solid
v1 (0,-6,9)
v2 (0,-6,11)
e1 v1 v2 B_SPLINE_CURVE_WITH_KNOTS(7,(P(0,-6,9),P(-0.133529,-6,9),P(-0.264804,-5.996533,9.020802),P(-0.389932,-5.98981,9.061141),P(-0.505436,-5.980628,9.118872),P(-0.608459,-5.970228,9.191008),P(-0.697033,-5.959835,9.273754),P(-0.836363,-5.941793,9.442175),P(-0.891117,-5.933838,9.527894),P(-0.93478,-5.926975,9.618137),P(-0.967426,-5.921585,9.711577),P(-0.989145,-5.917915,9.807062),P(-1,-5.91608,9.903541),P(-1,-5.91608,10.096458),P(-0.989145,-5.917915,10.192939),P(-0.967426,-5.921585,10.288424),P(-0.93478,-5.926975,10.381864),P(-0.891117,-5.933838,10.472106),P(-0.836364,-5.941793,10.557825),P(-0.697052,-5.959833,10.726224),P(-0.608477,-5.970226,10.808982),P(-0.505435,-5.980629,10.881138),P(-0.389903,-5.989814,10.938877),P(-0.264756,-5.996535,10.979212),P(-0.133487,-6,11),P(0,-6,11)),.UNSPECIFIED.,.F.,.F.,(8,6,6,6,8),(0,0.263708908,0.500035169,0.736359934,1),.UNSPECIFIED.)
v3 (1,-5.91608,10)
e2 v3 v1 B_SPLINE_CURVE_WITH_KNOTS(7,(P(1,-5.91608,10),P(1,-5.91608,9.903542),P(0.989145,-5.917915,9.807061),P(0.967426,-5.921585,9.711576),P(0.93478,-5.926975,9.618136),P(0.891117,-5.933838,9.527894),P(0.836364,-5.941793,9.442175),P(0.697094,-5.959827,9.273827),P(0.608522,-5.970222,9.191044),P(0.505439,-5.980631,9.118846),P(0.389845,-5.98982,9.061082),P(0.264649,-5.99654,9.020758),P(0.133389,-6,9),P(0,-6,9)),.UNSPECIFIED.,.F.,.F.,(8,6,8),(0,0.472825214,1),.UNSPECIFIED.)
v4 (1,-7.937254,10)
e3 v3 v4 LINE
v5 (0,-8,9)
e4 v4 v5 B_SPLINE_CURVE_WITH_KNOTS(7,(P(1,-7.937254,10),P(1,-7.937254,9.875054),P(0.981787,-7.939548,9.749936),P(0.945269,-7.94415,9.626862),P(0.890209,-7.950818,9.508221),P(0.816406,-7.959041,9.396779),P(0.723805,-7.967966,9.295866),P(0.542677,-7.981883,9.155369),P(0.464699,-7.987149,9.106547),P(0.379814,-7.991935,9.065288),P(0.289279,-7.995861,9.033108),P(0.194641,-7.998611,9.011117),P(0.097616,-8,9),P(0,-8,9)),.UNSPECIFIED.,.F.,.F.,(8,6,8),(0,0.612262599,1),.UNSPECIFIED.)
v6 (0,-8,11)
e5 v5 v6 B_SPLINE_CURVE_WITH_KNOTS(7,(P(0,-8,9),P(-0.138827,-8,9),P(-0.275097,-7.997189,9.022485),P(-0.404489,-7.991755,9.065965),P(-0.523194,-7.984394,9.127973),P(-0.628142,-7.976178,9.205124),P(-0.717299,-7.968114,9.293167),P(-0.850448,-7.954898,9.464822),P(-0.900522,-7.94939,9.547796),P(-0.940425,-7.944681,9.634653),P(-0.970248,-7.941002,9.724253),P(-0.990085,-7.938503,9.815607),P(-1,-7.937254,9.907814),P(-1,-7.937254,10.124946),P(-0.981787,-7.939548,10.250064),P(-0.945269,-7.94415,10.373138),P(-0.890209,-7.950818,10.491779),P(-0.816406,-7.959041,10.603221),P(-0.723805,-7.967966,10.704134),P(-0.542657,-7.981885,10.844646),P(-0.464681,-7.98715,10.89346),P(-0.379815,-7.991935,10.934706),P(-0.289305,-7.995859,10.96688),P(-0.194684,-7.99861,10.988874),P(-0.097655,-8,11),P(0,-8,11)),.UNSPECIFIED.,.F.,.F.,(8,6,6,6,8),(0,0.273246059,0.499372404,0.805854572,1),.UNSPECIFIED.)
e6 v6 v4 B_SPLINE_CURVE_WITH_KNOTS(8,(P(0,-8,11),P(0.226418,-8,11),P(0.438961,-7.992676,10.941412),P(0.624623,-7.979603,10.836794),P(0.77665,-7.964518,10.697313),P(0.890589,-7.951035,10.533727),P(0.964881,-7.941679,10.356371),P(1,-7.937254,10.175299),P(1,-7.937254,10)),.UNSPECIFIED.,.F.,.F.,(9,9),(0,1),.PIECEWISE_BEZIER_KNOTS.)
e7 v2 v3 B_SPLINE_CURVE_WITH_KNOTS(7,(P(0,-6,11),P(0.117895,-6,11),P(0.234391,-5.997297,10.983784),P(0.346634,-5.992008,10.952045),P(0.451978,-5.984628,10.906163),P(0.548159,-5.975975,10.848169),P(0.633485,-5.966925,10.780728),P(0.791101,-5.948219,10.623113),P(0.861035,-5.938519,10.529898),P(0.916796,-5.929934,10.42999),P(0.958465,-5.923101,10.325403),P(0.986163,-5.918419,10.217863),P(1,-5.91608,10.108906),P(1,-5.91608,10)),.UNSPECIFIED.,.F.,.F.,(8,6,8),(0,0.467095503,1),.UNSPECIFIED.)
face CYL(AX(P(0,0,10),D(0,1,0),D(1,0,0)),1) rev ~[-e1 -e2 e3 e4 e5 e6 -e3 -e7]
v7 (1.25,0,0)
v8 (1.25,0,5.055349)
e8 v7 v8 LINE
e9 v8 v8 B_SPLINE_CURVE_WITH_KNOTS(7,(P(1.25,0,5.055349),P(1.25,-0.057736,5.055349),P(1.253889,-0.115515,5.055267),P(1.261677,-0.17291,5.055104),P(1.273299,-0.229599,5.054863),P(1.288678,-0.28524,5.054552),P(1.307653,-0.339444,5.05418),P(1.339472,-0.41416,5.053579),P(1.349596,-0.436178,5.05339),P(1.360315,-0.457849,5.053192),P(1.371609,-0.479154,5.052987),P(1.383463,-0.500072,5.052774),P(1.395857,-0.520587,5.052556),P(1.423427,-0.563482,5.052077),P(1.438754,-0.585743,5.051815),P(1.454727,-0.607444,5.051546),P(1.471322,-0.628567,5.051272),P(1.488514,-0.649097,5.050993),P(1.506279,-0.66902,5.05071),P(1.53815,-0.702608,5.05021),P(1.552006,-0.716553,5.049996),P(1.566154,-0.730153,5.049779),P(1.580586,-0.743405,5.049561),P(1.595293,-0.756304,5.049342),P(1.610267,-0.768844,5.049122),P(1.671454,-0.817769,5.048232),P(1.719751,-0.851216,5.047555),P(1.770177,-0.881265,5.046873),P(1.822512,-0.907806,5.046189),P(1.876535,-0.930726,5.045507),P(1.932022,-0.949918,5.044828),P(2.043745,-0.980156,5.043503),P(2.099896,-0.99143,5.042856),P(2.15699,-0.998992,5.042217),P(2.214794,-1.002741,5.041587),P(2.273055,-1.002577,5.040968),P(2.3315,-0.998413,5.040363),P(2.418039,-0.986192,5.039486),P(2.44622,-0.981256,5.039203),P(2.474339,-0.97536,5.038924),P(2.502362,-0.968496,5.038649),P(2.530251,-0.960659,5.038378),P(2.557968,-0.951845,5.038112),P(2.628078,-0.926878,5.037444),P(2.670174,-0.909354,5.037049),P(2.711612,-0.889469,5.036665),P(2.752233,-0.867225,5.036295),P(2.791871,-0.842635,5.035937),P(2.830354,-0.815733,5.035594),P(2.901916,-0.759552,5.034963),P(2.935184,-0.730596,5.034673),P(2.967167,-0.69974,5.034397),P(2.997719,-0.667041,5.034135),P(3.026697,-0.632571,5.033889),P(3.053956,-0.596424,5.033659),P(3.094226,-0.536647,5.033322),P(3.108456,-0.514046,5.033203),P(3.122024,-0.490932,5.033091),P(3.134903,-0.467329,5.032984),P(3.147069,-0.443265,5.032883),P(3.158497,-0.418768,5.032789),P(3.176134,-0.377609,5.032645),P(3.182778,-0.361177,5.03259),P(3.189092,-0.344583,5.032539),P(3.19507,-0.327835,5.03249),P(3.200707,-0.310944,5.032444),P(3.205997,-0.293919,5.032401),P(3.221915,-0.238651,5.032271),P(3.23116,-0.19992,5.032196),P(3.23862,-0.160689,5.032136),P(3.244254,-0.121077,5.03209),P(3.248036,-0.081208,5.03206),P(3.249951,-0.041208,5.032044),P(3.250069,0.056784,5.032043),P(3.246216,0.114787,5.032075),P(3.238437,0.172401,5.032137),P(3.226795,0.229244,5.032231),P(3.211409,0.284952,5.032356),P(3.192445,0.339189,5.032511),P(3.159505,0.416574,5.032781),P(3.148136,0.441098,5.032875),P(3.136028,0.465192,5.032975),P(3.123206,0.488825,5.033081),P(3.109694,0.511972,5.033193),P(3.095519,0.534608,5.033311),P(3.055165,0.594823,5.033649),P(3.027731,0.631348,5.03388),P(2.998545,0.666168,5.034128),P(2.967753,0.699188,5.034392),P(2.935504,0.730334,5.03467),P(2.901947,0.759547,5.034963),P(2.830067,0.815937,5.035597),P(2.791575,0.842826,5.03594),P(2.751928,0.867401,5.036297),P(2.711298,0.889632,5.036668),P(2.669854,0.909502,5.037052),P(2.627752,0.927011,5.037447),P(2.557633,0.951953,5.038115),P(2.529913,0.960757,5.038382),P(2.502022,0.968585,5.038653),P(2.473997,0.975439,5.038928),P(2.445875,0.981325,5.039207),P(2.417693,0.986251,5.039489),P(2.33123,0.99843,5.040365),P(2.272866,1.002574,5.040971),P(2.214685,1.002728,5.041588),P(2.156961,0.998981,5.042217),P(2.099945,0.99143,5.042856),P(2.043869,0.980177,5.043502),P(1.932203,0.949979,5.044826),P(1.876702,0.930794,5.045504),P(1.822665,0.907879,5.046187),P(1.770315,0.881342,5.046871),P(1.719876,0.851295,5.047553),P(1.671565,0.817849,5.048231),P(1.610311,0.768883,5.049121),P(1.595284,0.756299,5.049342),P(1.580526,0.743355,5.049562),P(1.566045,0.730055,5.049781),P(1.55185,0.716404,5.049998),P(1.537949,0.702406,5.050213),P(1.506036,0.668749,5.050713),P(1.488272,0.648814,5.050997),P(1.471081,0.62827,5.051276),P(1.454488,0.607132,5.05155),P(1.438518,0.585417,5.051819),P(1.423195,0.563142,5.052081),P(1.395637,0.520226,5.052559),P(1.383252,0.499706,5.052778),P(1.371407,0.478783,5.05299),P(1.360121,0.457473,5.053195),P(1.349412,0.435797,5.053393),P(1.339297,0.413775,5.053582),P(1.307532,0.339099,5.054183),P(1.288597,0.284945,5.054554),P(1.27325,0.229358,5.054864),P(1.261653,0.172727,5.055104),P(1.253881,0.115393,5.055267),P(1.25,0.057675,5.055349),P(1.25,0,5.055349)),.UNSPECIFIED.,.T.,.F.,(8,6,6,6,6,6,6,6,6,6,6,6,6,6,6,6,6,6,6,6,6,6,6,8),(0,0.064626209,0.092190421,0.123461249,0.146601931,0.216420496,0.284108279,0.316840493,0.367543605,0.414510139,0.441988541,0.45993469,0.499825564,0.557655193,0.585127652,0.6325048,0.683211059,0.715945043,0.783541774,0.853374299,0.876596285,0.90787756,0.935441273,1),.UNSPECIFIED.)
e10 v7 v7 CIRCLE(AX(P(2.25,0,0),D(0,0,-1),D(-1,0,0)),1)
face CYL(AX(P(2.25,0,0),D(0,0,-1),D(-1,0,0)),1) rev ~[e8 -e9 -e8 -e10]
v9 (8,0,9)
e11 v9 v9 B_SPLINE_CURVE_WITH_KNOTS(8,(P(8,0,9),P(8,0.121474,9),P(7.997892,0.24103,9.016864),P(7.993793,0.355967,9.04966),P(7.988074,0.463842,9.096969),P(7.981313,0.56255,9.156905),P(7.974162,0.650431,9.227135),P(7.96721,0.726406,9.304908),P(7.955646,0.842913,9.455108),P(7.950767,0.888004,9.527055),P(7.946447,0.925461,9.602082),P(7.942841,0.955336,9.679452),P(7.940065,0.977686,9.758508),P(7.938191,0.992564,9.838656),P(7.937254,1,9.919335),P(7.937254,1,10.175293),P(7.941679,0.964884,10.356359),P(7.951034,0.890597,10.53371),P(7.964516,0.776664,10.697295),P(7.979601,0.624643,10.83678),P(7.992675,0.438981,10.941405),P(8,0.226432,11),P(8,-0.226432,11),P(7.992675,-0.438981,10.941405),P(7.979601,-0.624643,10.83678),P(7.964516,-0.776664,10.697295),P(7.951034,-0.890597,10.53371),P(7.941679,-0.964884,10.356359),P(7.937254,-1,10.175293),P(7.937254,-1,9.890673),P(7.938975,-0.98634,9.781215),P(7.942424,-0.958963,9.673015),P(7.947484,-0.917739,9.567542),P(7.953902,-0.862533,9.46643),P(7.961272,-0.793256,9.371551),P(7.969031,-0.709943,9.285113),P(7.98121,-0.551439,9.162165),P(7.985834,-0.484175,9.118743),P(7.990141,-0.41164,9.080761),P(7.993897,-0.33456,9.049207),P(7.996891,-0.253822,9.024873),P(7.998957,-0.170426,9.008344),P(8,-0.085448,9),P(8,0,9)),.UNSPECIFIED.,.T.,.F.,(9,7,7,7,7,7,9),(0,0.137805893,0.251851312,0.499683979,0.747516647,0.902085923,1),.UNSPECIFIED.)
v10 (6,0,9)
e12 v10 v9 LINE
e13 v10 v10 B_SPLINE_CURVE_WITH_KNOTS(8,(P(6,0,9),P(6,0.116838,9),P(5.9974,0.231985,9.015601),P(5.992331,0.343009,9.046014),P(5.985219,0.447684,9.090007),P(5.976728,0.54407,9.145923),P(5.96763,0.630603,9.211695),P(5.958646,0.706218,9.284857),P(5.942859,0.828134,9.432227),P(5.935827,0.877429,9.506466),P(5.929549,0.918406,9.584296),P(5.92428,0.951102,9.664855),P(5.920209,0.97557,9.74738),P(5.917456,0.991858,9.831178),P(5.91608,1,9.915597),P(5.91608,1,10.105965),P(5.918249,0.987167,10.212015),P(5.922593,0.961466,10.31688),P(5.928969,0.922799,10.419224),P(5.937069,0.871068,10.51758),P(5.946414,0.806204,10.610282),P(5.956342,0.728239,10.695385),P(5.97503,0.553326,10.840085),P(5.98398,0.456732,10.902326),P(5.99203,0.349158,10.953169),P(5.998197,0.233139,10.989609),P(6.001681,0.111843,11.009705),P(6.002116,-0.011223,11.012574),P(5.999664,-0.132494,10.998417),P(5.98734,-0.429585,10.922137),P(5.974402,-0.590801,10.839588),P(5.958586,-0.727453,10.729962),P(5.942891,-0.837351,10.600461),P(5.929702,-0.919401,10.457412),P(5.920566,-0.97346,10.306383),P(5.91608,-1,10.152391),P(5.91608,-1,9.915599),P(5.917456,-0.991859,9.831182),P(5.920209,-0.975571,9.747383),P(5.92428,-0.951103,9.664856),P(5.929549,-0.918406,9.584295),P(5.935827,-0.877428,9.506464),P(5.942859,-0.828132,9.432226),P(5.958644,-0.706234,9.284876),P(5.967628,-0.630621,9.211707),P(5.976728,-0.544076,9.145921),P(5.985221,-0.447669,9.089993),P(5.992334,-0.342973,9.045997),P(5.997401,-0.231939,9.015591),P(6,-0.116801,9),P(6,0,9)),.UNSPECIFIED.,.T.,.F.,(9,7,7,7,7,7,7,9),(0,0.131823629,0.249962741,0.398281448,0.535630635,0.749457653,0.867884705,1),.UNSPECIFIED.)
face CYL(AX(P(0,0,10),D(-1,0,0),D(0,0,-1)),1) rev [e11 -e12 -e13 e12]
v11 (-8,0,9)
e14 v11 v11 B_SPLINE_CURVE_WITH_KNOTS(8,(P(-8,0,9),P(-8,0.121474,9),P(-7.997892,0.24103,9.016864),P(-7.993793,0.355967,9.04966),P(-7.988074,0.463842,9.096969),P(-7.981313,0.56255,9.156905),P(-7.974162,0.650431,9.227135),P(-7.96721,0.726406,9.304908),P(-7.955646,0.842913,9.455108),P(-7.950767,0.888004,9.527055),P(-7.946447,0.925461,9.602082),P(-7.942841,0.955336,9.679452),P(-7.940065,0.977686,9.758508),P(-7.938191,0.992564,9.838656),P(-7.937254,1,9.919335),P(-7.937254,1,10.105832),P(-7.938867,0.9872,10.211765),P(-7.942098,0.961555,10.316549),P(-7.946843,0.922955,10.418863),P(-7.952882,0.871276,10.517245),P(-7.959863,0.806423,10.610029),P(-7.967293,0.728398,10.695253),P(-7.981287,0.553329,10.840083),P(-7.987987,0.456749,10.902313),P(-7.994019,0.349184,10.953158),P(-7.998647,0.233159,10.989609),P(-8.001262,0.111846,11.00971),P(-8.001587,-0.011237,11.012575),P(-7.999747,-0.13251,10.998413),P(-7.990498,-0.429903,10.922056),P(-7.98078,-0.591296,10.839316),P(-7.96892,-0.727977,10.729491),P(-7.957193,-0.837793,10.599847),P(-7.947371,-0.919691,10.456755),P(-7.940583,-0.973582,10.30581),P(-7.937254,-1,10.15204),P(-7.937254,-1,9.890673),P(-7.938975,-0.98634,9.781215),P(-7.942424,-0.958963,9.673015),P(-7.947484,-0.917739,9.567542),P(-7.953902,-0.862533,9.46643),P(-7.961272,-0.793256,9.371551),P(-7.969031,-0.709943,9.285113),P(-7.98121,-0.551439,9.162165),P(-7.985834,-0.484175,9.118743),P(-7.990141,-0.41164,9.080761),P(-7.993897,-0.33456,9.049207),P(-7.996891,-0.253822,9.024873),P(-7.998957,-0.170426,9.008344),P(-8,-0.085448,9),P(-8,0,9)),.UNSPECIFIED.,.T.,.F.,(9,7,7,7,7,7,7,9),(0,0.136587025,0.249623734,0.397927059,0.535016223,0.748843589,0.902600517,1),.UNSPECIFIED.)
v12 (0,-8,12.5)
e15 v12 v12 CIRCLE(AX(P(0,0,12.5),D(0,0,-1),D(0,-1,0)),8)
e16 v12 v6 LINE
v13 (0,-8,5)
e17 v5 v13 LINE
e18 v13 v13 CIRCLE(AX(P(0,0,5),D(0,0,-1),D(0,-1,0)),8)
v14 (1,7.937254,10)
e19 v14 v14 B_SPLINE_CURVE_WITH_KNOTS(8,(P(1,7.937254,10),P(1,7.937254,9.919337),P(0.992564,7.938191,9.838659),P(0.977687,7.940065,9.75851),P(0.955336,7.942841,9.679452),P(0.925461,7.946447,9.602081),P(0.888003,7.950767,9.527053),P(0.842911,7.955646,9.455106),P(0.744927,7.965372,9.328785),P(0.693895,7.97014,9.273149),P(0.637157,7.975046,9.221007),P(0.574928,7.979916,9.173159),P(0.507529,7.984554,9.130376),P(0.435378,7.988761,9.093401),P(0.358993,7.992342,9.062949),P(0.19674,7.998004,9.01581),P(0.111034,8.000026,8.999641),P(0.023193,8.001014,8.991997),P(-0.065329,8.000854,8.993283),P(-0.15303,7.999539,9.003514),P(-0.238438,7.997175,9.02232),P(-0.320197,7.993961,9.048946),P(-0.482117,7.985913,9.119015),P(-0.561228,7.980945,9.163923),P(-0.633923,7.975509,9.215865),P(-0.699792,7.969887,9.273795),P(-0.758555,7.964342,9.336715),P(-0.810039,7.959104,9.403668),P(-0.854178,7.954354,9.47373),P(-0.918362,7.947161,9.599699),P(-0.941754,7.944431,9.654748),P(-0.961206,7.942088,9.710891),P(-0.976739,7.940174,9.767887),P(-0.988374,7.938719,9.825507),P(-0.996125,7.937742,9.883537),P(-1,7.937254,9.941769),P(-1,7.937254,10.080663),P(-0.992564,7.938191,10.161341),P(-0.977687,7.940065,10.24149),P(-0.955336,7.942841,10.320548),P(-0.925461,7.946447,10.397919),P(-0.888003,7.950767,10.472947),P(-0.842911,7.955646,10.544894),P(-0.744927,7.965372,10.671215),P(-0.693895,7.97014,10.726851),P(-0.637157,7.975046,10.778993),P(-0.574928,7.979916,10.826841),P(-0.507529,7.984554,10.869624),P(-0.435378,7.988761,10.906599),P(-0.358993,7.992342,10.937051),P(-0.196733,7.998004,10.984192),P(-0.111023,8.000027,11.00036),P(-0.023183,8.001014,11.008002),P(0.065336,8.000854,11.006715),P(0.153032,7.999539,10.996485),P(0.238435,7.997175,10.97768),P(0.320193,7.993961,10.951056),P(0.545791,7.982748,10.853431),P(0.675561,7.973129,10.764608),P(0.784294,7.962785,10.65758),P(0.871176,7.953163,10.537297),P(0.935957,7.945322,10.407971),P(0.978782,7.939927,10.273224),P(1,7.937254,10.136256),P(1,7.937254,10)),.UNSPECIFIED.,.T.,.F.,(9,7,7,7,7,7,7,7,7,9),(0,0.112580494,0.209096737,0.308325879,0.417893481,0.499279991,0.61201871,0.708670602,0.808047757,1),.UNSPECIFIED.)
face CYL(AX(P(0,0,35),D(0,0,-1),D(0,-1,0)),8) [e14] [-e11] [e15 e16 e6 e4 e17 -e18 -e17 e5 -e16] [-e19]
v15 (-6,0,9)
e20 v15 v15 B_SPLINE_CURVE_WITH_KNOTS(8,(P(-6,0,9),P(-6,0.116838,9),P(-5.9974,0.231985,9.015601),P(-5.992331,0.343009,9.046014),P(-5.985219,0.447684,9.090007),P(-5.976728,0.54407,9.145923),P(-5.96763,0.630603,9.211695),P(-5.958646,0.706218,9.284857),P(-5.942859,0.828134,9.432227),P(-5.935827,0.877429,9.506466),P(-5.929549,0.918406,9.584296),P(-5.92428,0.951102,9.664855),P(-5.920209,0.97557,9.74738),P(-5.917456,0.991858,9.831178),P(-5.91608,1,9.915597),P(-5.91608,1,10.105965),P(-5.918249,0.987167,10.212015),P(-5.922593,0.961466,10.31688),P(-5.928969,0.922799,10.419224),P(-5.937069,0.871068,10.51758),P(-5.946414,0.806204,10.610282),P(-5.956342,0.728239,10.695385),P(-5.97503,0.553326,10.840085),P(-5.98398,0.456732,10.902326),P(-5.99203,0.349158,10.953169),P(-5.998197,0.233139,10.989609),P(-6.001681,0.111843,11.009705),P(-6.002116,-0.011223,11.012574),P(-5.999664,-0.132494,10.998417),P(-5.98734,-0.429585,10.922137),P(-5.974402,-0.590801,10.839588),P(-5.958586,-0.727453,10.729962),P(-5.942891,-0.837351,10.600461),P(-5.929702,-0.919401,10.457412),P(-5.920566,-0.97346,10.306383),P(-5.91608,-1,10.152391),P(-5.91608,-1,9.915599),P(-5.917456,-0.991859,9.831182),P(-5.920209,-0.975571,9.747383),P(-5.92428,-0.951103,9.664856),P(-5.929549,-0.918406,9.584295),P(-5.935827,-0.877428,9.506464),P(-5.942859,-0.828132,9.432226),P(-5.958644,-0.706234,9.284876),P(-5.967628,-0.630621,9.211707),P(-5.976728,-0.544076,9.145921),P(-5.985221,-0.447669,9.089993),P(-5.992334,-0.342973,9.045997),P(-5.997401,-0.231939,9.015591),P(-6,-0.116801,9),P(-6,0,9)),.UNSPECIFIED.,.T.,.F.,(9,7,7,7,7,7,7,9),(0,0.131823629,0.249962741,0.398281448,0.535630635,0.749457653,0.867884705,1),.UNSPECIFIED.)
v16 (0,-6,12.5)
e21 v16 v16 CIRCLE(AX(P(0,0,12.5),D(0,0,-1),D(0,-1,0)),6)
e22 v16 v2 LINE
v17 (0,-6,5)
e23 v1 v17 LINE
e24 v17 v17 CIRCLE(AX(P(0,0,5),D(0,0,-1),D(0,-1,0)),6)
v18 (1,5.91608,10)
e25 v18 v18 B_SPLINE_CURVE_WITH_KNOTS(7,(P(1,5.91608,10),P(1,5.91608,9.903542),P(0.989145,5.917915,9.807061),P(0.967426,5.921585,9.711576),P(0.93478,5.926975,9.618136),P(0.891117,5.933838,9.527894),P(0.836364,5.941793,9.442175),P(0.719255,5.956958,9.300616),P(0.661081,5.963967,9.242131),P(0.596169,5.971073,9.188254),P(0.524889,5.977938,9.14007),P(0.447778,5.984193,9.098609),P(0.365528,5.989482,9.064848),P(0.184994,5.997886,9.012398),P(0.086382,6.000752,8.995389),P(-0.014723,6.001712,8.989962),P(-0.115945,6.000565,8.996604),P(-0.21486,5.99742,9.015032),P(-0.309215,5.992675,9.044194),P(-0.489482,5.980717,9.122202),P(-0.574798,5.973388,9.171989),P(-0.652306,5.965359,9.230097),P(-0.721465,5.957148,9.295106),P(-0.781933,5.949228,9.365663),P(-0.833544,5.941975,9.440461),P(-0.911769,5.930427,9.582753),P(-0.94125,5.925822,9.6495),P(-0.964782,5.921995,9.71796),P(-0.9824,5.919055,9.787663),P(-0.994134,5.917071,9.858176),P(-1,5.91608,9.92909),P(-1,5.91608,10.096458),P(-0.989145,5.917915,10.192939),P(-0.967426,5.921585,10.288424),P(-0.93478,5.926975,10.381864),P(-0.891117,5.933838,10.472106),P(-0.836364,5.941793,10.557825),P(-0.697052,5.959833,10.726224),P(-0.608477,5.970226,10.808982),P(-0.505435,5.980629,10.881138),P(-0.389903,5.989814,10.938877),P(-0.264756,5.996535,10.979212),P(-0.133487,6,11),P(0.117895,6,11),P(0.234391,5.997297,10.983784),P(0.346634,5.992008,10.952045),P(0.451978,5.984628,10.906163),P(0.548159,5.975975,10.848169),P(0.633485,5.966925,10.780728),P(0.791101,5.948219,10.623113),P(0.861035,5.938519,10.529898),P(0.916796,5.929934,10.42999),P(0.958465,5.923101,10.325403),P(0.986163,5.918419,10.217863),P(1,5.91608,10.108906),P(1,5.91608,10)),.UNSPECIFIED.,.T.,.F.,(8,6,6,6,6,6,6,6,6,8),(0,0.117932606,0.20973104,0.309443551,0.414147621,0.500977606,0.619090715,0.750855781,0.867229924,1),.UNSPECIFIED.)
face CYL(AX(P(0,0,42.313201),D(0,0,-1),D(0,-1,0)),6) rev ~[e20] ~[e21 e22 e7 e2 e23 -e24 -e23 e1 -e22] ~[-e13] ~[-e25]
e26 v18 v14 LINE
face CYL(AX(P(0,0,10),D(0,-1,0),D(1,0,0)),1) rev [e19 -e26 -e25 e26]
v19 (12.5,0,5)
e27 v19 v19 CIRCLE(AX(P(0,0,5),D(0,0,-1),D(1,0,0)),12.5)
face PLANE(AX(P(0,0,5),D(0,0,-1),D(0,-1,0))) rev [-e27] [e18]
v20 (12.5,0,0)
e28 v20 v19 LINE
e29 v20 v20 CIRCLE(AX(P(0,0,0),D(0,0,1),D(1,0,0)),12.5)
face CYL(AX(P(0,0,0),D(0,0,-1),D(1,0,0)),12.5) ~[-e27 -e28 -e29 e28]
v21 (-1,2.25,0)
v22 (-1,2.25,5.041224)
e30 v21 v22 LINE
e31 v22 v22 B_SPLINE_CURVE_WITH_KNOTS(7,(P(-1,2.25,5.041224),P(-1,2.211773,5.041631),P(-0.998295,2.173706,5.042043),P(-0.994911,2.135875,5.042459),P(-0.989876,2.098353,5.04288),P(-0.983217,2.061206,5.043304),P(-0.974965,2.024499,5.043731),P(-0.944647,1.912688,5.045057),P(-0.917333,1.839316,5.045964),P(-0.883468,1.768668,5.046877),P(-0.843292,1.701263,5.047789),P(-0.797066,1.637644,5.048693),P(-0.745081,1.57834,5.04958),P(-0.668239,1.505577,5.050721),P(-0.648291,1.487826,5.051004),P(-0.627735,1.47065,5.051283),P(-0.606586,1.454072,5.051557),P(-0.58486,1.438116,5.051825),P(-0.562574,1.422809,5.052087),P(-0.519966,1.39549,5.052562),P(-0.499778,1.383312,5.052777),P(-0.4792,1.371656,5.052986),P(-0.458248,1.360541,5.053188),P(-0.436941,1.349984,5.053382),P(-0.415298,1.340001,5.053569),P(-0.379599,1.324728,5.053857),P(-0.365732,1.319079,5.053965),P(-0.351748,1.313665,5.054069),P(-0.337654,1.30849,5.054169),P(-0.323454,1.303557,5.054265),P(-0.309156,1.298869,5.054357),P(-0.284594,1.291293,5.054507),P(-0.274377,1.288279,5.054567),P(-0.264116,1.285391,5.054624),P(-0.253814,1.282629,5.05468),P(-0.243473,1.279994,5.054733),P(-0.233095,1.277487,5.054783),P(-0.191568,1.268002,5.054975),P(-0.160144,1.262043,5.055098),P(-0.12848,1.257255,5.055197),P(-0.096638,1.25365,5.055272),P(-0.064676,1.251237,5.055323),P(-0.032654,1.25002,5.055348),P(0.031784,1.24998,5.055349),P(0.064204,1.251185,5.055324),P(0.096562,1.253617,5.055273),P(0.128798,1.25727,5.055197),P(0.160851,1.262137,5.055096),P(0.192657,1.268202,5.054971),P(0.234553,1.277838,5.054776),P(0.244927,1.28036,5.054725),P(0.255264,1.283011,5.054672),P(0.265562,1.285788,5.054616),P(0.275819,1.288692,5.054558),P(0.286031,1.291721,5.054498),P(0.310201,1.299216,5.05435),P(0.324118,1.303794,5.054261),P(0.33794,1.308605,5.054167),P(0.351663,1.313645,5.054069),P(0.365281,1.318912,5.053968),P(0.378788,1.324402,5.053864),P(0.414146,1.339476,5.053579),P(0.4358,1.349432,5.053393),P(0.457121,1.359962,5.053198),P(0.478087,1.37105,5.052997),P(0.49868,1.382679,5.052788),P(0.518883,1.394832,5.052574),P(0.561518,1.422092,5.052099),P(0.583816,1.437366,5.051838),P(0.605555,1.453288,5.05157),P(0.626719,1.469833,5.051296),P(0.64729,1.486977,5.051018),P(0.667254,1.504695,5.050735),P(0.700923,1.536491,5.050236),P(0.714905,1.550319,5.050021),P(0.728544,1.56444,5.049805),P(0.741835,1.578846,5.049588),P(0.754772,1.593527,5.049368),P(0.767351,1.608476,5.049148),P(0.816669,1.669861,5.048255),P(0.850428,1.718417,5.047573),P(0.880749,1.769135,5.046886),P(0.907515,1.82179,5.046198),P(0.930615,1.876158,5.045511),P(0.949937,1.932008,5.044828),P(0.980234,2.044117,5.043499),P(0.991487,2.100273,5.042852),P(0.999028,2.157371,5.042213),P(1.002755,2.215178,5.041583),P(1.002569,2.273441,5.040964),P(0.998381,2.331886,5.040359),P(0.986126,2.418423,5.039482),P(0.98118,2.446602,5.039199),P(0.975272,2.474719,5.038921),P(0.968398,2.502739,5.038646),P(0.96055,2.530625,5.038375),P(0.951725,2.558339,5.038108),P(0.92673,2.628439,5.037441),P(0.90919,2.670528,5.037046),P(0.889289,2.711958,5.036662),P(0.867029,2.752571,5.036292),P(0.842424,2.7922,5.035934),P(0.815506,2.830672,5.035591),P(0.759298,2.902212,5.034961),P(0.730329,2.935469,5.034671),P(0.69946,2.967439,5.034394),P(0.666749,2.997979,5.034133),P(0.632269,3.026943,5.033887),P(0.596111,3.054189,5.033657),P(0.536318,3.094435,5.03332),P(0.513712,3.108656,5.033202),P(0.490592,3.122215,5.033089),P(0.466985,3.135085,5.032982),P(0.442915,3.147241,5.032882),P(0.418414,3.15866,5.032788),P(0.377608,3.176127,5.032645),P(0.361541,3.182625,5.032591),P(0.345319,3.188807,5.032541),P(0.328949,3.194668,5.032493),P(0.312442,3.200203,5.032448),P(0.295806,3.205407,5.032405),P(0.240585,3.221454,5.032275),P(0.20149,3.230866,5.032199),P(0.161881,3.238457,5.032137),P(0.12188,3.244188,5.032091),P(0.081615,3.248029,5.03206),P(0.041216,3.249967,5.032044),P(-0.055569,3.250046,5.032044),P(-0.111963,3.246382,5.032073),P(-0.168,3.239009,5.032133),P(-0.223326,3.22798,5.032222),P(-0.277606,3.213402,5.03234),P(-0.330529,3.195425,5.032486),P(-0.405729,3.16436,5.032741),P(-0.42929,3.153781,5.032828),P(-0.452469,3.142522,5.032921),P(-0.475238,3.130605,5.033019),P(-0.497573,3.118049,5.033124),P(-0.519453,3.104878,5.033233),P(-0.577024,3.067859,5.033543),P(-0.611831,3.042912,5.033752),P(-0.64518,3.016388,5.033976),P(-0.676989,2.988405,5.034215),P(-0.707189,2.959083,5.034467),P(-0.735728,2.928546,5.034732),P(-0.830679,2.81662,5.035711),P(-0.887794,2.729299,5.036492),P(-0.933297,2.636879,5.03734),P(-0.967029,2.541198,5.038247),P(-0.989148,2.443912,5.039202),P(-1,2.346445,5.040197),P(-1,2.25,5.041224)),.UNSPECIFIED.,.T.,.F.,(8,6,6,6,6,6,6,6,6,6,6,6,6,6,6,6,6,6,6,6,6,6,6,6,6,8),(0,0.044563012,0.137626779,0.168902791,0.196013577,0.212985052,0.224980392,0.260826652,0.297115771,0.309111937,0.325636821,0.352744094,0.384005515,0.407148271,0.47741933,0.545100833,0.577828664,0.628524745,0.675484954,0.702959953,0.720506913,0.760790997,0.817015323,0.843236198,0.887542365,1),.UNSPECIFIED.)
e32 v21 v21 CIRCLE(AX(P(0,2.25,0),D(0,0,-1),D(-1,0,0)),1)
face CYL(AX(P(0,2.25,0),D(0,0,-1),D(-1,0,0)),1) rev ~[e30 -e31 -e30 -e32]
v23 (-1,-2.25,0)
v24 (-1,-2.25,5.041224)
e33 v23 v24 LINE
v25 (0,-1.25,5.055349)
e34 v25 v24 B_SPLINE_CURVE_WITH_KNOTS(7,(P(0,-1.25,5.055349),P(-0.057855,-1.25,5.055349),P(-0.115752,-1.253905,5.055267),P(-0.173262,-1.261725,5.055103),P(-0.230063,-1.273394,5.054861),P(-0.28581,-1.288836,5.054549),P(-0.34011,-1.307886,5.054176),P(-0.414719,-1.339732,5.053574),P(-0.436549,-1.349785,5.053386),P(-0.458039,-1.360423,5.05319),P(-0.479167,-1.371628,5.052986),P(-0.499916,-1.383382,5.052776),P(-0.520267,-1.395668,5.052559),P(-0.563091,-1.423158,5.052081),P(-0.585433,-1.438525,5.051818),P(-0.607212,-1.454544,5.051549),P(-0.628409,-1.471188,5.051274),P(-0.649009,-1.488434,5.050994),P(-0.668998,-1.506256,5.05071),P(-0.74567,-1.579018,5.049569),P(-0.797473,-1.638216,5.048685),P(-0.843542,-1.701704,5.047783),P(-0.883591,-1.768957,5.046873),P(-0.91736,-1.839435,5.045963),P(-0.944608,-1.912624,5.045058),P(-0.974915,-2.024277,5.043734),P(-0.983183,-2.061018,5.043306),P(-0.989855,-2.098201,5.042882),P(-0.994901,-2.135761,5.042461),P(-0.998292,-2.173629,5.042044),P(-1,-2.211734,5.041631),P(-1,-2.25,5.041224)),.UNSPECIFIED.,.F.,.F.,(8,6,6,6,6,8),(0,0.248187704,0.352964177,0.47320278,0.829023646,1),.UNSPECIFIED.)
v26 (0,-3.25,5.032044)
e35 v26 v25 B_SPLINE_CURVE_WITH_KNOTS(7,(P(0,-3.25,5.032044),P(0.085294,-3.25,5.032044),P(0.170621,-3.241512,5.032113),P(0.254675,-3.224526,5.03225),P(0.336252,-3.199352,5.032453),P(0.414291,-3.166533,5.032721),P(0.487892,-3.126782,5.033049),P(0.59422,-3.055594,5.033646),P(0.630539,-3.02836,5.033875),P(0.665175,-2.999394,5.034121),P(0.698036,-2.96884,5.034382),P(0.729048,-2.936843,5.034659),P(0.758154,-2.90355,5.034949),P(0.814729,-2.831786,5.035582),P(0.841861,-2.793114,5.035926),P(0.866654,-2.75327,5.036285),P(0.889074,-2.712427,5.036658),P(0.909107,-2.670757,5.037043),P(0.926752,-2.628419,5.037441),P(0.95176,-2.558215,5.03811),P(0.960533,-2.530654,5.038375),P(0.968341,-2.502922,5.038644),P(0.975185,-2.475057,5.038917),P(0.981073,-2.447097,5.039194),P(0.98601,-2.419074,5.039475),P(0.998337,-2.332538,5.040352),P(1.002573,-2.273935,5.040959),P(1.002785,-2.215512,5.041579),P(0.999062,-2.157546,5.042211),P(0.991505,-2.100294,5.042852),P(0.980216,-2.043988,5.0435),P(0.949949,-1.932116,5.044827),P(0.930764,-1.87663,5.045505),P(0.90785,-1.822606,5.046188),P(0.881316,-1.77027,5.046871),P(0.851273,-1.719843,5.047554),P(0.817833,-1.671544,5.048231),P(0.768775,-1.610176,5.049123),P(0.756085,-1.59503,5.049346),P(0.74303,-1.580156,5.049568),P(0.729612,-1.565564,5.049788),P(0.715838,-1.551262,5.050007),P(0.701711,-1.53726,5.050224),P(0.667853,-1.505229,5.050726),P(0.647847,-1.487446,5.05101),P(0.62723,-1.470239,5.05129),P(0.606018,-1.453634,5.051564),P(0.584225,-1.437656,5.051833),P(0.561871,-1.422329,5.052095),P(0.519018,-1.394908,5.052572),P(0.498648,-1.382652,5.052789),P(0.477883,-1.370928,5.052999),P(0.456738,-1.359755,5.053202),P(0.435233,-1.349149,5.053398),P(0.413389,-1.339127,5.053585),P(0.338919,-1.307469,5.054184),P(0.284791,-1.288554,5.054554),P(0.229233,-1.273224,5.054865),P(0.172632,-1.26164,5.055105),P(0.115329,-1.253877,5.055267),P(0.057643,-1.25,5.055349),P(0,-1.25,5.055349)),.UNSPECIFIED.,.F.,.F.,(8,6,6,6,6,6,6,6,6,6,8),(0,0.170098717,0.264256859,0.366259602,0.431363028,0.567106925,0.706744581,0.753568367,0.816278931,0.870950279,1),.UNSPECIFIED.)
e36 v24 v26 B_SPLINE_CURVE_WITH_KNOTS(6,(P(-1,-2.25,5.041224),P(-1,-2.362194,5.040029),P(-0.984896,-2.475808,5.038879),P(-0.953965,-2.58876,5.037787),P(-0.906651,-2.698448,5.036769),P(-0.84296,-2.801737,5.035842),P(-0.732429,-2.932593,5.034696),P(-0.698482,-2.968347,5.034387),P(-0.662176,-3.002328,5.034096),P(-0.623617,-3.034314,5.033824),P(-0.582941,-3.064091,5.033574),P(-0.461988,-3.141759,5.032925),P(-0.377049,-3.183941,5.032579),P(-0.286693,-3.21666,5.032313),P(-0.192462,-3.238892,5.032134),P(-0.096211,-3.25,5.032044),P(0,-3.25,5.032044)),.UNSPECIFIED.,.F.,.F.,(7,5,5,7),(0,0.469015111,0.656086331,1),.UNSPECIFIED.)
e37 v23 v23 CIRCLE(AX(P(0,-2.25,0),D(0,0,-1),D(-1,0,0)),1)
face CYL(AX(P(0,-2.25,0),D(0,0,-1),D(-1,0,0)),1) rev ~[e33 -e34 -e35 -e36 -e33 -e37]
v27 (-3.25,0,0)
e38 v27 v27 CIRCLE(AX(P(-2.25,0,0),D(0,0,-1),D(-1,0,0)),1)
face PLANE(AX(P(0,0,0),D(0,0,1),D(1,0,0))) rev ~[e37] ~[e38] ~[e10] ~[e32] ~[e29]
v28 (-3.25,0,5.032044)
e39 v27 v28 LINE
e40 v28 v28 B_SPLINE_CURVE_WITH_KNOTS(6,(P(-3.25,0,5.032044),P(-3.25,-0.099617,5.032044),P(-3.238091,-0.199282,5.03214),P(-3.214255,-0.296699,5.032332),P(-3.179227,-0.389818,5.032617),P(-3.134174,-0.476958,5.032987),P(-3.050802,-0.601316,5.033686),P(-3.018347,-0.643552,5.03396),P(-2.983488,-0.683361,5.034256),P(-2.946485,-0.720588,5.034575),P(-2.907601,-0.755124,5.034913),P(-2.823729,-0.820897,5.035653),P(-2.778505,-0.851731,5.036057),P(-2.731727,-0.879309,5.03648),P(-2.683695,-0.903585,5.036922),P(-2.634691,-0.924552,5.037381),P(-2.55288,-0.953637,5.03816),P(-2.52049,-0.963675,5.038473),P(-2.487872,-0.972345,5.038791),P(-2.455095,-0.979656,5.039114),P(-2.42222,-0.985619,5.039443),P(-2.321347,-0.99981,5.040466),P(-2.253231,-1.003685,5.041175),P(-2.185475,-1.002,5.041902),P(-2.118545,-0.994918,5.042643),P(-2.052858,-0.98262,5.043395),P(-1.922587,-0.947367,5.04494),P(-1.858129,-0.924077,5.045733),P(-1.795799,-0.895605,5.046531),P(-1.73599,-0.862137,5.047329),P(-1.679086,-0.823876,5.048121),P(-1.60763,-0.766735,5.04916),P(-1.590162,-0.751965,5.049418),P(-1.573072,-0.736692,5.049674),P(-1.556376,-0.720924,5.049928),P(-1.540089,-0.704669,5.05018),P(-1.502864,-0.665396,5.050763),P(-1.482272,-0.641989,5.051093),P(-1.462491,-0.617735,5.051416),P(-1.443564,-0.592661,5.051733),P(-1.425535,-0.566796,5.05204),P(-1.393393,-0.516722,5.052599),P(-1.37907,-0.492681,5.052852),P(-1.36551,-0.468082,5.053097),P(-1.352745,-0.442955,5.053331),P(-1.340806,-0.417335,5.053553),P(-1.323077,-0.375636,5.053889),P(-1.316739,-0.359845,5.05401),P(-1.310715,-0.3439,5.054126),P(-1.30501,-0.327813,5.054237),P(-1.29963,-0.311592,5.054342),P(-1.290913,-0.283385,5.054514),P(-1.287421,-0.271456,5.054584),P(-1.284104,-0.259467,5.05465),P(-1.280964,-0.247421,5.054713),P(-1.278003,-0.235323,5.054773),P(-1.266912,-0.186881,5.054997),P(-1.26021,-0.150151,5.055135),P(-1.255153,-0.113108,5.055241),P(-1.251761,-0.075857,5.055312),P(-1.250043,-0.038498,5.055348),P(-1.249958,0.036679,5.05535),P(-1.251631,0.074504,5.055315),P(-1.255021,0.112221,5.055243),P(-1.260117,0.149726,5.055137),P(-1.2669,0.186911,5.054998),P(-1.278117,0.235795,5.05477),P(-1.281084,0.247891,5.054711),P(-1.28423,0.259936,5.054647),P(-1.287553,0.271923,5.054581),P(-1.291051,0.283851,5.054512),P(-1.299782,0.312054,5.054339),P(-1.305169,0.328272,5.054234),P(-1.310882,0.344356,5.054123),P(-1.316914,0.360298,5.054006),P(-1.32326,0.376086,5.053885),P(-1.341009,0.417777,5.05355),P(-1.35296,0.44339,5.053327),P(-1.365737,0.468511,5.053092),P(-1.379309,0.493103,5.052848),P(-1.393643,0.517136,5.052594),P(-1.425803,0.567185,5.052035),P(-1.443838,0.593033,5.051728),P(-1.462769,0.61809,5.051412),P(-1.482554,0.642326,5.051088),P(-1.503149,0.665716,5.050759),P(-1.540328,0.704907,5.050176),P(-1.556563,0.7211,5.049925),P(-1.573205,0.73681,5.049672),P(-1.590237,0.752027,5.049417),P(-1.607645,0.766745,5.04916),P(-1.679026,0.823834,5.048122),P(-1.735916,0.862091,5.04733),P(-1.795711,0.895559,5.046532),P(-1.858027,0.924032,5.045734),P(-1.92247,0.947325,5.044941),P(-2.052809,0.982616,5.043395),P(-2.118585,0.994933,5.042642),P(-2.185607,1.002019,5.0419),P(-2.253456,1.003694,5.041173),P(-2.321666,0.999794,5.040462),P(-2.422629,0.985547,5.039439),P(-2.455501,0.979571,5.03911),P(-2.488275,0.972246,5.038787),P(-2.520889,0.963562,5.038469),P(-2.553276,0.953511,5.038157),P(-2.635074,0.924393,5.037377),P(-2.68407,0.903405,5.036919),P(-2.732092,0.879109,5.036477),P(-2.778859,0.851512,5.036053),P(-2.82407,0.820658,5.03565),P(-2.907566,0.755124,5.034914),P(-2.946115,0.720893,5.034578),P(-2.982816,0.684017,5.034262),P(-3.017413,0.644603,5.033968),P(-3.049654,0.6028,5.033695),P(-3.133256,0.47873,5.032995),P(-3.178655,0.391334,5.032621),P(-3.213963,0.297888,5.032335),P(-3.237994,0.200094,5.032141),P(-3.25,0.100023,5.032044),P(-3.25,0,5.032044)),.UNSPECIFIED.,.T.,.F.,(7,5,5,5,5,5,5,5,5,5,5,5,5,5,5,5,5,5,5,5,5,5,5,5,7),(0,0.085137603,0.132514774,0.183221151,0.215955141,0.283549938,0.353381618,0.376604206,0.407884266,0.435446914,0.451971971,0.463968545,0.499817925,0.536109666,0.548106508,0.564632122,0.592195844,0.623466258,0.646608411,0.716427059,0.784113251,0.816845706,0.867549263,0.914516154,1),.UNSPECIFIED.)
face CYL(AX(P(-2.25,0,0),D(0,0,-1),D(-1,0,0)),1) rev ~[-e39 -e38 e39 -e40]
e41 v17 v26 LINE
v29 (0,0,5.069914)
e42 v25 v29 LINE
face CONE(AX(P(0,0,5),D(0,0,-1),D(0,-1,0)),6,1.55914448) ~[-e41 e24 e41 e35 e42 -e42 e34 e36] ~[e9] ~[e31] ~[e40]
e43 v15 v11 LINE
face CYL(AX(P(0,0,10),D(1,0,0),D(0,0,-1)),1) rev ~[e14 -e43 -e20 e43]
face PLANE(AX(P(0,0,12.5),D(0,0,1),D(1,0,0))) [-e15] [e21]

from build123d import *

# Parameters (mm, degrees)
SKIZZE1_R                            = 12.5
AUFSATZ_LINEAR_AUSTRAGEN1_DEPTH      = 40
SCHNITT_LINEAR_START                 = 30
SKIZZE4_R                            = 15
SKIZZE4_R_2                          = 12
SCHNITT_LINEAR_AUSTRAGEN1_DEPTH      = 20
SKIZZE5_R                            = 1.1
SCHNITT_LINEAR_AUSTRAGEN2_DEPTH      = 20
SKIZZE6_R                            = 1
SCHNITT_LINEAR_AUSTRAGEN3_DEPTH      = 10
SCHNITT_LINEAR_START_2               = 12.5
SKIZZE8_W                            = 25
SKIZZE8_H                            = 25
SCHNITT_LINEAR_AUSTRAGEN4_DEPTH      = 28.5
SKIZZE9_R                            = 1
SCHNITT_LINEAR_AUSTRAGEN5_DEPTH      = 13.5
SCHNITT_LINEAR_AUSTRAGEN5_DEPTH_BACK = 13.5
SKIZZE10_R                           = 1
SCHNITT_LINEAR_AUSTRAGEN6_DEPTH      = 13.5
SCHNITT_LINEAR_AUSTRAGEN6_DEPTH_BACK = 13.5


with BuildPart() as part:
    # Skizze1 → Aufsatz-Linear austragen1 (new body)
    with BuildSketch(Plane.XY):
        Circle(SKIZZE1_R)
    extrude(amount=AUFSATZ_LINEAR_AUSTRAGEN1_DEPTH)

    # Skizze2 → Schnitt-Rotation3 (revolve, cut)
    with BuildSketch(Plane(origin=(0, 0, 0), x_dir=(0, 0, -1), z_dir=(1, 0, 0))):
        Polygon((-35, -12.5), (-35, -8), (-5, -8), (-5, -12.5), (-33.974333956, -17.5), align=None)
    revolve(axis=Axis((0, 0, 40), (0, 0, -1)), mode=Mode.SUBTRACT)

    # Skizze4 → Schnitt-Linear austragen1 (cut)
    with BuildSketch(Plane.XY.offset(SCHNITT_LINEAR_START)):
        Circle(SKIZZE4_R)
        Circle(SKIZZE4_R_2, mode=Mode.SUBTRACT)
    extrude(amount=SCHNITT_LINEAR_AUSTRAGEN1_DEPTH, mode=Mode.SUBTRACT)

    # Skizze5 → Schnitt-Linear austragen2 (cut)
    with BuildSketch(Plane.XY.offset(40)):
        with Locations((-5.457266806, 6.503717322)):
            Circle(SKIZZE5_R)
        with Locations((6.503717322, 5.457266806)):
            Circle(SKIZZE5_R)
        with Locations((5.457266806, -6.503717322)):
            Circle(SKIZZE5_R)
        with Locations((-6.503717322, -5.457266806)):
            Circle(SKIZZE5_R)
    extrude(amount=-SCHNITT_LINEAR_AUSTRAGEN2_DEPTH, mode=Mode.SUBTRACT)

    # Skizze6 → Schnitt-Linear austragen3 (cut)
    with BuildSketch(Plane(origin=(0, 0, 0), x_dir=(-1, 0, 0), z_dir=(0, 0, -1))):
        with Locations((-2.25, 0)):
            Circle(SKIZZE6_R)
        with Locations((0, 2.25)):
            Circle(SKIZZE6_R)
        with Locations((2.25, 0)):
            Circle(SKIZZE6_R)
        with Locations((0, -2.25)):
            Circle(SKIZZE6_R)
    extrude(amount=-SCHNITT_LINEAR_AUSTRAGEN3_DEPTH, mode=Mode.SUBTRACT)

    # Skizze7 → Schnitt-Rotation4 (revolve, cut)
    with BuildSketch(Plane(origin=(0, 0, 0), x_dir=(0, 0, -1), z_dir=(1, 0, 0))):
        Polygon((-5.069914244, 0), (-35.074978214, 0), (-40, 0), (-42.313201415, 0), (-42.313201415, -6), (-40, -6), (-35, -6), (-5, -6), align=None)
    revolve(axis=Axis((0, 0, 40), (0, 0, -1)), mode=Mode.SUBTRACT)

    # Skizze8 → Schnitt-Linear austragen4 (cut, through all)
    with BuildSketch(Plane.XY.offset(SCHNITT_LINEAR_START_2)):
        Rectangle(SKIZZE8_W, SKIZZE8_H)
    extrude(amount=SCHNITT_LINEAR_AUSTRAGEN4_DEPTH, mode=Mode.SUBTRACT)

    # Skizze9 → Schnitt-Linear austragen5 (cut, two sides)
    with BuildSketch(Plane(origin=(0, 0, 0), x_dir=(0, 0, -1), z_dir=(1, 0, 0))) as schnitt_linear_austragen5_sk:
        with Locations((-10, 0)):
            Circle(SKIZZE9_R)
    extrude(amount=SCHNITT_LINEAR_AUSTRAGEN5_DEPTH, mode=Mode.SUBTRACT)
    extrude(schnitt_linear_austragen5_sk.sketch, amount=-SCHNITT_LINEAR_AUSTRAGEN5_DEPTH_BACK, mode=Mode.SUBTRACT)

    # Skizze10 → Schnitt-Linear austragen6 (cut, two sides)
    with BuildSketch(Plane(origin=(0, 0, 0), x_dir=(1, 0, 0), z_dir=(0, 1, 0))) as schnitt_linear_austragen6_sk:
        with Locations((0, -10)):
            Circle(SKIZZE10_R)
    extrude(amount=SCHNITT_LINEAR_AUSTRAGEN6_DEPTH, mode=Mode.SUBTRACT)
    extrude(schnitt_linear_austragen6_sk.sketch, amount=-SCHNITT_LINEAR_AUSTRAGEN6_DEPTH_BACK, mode=Mode.SUBTRACT)


solid = part.part
